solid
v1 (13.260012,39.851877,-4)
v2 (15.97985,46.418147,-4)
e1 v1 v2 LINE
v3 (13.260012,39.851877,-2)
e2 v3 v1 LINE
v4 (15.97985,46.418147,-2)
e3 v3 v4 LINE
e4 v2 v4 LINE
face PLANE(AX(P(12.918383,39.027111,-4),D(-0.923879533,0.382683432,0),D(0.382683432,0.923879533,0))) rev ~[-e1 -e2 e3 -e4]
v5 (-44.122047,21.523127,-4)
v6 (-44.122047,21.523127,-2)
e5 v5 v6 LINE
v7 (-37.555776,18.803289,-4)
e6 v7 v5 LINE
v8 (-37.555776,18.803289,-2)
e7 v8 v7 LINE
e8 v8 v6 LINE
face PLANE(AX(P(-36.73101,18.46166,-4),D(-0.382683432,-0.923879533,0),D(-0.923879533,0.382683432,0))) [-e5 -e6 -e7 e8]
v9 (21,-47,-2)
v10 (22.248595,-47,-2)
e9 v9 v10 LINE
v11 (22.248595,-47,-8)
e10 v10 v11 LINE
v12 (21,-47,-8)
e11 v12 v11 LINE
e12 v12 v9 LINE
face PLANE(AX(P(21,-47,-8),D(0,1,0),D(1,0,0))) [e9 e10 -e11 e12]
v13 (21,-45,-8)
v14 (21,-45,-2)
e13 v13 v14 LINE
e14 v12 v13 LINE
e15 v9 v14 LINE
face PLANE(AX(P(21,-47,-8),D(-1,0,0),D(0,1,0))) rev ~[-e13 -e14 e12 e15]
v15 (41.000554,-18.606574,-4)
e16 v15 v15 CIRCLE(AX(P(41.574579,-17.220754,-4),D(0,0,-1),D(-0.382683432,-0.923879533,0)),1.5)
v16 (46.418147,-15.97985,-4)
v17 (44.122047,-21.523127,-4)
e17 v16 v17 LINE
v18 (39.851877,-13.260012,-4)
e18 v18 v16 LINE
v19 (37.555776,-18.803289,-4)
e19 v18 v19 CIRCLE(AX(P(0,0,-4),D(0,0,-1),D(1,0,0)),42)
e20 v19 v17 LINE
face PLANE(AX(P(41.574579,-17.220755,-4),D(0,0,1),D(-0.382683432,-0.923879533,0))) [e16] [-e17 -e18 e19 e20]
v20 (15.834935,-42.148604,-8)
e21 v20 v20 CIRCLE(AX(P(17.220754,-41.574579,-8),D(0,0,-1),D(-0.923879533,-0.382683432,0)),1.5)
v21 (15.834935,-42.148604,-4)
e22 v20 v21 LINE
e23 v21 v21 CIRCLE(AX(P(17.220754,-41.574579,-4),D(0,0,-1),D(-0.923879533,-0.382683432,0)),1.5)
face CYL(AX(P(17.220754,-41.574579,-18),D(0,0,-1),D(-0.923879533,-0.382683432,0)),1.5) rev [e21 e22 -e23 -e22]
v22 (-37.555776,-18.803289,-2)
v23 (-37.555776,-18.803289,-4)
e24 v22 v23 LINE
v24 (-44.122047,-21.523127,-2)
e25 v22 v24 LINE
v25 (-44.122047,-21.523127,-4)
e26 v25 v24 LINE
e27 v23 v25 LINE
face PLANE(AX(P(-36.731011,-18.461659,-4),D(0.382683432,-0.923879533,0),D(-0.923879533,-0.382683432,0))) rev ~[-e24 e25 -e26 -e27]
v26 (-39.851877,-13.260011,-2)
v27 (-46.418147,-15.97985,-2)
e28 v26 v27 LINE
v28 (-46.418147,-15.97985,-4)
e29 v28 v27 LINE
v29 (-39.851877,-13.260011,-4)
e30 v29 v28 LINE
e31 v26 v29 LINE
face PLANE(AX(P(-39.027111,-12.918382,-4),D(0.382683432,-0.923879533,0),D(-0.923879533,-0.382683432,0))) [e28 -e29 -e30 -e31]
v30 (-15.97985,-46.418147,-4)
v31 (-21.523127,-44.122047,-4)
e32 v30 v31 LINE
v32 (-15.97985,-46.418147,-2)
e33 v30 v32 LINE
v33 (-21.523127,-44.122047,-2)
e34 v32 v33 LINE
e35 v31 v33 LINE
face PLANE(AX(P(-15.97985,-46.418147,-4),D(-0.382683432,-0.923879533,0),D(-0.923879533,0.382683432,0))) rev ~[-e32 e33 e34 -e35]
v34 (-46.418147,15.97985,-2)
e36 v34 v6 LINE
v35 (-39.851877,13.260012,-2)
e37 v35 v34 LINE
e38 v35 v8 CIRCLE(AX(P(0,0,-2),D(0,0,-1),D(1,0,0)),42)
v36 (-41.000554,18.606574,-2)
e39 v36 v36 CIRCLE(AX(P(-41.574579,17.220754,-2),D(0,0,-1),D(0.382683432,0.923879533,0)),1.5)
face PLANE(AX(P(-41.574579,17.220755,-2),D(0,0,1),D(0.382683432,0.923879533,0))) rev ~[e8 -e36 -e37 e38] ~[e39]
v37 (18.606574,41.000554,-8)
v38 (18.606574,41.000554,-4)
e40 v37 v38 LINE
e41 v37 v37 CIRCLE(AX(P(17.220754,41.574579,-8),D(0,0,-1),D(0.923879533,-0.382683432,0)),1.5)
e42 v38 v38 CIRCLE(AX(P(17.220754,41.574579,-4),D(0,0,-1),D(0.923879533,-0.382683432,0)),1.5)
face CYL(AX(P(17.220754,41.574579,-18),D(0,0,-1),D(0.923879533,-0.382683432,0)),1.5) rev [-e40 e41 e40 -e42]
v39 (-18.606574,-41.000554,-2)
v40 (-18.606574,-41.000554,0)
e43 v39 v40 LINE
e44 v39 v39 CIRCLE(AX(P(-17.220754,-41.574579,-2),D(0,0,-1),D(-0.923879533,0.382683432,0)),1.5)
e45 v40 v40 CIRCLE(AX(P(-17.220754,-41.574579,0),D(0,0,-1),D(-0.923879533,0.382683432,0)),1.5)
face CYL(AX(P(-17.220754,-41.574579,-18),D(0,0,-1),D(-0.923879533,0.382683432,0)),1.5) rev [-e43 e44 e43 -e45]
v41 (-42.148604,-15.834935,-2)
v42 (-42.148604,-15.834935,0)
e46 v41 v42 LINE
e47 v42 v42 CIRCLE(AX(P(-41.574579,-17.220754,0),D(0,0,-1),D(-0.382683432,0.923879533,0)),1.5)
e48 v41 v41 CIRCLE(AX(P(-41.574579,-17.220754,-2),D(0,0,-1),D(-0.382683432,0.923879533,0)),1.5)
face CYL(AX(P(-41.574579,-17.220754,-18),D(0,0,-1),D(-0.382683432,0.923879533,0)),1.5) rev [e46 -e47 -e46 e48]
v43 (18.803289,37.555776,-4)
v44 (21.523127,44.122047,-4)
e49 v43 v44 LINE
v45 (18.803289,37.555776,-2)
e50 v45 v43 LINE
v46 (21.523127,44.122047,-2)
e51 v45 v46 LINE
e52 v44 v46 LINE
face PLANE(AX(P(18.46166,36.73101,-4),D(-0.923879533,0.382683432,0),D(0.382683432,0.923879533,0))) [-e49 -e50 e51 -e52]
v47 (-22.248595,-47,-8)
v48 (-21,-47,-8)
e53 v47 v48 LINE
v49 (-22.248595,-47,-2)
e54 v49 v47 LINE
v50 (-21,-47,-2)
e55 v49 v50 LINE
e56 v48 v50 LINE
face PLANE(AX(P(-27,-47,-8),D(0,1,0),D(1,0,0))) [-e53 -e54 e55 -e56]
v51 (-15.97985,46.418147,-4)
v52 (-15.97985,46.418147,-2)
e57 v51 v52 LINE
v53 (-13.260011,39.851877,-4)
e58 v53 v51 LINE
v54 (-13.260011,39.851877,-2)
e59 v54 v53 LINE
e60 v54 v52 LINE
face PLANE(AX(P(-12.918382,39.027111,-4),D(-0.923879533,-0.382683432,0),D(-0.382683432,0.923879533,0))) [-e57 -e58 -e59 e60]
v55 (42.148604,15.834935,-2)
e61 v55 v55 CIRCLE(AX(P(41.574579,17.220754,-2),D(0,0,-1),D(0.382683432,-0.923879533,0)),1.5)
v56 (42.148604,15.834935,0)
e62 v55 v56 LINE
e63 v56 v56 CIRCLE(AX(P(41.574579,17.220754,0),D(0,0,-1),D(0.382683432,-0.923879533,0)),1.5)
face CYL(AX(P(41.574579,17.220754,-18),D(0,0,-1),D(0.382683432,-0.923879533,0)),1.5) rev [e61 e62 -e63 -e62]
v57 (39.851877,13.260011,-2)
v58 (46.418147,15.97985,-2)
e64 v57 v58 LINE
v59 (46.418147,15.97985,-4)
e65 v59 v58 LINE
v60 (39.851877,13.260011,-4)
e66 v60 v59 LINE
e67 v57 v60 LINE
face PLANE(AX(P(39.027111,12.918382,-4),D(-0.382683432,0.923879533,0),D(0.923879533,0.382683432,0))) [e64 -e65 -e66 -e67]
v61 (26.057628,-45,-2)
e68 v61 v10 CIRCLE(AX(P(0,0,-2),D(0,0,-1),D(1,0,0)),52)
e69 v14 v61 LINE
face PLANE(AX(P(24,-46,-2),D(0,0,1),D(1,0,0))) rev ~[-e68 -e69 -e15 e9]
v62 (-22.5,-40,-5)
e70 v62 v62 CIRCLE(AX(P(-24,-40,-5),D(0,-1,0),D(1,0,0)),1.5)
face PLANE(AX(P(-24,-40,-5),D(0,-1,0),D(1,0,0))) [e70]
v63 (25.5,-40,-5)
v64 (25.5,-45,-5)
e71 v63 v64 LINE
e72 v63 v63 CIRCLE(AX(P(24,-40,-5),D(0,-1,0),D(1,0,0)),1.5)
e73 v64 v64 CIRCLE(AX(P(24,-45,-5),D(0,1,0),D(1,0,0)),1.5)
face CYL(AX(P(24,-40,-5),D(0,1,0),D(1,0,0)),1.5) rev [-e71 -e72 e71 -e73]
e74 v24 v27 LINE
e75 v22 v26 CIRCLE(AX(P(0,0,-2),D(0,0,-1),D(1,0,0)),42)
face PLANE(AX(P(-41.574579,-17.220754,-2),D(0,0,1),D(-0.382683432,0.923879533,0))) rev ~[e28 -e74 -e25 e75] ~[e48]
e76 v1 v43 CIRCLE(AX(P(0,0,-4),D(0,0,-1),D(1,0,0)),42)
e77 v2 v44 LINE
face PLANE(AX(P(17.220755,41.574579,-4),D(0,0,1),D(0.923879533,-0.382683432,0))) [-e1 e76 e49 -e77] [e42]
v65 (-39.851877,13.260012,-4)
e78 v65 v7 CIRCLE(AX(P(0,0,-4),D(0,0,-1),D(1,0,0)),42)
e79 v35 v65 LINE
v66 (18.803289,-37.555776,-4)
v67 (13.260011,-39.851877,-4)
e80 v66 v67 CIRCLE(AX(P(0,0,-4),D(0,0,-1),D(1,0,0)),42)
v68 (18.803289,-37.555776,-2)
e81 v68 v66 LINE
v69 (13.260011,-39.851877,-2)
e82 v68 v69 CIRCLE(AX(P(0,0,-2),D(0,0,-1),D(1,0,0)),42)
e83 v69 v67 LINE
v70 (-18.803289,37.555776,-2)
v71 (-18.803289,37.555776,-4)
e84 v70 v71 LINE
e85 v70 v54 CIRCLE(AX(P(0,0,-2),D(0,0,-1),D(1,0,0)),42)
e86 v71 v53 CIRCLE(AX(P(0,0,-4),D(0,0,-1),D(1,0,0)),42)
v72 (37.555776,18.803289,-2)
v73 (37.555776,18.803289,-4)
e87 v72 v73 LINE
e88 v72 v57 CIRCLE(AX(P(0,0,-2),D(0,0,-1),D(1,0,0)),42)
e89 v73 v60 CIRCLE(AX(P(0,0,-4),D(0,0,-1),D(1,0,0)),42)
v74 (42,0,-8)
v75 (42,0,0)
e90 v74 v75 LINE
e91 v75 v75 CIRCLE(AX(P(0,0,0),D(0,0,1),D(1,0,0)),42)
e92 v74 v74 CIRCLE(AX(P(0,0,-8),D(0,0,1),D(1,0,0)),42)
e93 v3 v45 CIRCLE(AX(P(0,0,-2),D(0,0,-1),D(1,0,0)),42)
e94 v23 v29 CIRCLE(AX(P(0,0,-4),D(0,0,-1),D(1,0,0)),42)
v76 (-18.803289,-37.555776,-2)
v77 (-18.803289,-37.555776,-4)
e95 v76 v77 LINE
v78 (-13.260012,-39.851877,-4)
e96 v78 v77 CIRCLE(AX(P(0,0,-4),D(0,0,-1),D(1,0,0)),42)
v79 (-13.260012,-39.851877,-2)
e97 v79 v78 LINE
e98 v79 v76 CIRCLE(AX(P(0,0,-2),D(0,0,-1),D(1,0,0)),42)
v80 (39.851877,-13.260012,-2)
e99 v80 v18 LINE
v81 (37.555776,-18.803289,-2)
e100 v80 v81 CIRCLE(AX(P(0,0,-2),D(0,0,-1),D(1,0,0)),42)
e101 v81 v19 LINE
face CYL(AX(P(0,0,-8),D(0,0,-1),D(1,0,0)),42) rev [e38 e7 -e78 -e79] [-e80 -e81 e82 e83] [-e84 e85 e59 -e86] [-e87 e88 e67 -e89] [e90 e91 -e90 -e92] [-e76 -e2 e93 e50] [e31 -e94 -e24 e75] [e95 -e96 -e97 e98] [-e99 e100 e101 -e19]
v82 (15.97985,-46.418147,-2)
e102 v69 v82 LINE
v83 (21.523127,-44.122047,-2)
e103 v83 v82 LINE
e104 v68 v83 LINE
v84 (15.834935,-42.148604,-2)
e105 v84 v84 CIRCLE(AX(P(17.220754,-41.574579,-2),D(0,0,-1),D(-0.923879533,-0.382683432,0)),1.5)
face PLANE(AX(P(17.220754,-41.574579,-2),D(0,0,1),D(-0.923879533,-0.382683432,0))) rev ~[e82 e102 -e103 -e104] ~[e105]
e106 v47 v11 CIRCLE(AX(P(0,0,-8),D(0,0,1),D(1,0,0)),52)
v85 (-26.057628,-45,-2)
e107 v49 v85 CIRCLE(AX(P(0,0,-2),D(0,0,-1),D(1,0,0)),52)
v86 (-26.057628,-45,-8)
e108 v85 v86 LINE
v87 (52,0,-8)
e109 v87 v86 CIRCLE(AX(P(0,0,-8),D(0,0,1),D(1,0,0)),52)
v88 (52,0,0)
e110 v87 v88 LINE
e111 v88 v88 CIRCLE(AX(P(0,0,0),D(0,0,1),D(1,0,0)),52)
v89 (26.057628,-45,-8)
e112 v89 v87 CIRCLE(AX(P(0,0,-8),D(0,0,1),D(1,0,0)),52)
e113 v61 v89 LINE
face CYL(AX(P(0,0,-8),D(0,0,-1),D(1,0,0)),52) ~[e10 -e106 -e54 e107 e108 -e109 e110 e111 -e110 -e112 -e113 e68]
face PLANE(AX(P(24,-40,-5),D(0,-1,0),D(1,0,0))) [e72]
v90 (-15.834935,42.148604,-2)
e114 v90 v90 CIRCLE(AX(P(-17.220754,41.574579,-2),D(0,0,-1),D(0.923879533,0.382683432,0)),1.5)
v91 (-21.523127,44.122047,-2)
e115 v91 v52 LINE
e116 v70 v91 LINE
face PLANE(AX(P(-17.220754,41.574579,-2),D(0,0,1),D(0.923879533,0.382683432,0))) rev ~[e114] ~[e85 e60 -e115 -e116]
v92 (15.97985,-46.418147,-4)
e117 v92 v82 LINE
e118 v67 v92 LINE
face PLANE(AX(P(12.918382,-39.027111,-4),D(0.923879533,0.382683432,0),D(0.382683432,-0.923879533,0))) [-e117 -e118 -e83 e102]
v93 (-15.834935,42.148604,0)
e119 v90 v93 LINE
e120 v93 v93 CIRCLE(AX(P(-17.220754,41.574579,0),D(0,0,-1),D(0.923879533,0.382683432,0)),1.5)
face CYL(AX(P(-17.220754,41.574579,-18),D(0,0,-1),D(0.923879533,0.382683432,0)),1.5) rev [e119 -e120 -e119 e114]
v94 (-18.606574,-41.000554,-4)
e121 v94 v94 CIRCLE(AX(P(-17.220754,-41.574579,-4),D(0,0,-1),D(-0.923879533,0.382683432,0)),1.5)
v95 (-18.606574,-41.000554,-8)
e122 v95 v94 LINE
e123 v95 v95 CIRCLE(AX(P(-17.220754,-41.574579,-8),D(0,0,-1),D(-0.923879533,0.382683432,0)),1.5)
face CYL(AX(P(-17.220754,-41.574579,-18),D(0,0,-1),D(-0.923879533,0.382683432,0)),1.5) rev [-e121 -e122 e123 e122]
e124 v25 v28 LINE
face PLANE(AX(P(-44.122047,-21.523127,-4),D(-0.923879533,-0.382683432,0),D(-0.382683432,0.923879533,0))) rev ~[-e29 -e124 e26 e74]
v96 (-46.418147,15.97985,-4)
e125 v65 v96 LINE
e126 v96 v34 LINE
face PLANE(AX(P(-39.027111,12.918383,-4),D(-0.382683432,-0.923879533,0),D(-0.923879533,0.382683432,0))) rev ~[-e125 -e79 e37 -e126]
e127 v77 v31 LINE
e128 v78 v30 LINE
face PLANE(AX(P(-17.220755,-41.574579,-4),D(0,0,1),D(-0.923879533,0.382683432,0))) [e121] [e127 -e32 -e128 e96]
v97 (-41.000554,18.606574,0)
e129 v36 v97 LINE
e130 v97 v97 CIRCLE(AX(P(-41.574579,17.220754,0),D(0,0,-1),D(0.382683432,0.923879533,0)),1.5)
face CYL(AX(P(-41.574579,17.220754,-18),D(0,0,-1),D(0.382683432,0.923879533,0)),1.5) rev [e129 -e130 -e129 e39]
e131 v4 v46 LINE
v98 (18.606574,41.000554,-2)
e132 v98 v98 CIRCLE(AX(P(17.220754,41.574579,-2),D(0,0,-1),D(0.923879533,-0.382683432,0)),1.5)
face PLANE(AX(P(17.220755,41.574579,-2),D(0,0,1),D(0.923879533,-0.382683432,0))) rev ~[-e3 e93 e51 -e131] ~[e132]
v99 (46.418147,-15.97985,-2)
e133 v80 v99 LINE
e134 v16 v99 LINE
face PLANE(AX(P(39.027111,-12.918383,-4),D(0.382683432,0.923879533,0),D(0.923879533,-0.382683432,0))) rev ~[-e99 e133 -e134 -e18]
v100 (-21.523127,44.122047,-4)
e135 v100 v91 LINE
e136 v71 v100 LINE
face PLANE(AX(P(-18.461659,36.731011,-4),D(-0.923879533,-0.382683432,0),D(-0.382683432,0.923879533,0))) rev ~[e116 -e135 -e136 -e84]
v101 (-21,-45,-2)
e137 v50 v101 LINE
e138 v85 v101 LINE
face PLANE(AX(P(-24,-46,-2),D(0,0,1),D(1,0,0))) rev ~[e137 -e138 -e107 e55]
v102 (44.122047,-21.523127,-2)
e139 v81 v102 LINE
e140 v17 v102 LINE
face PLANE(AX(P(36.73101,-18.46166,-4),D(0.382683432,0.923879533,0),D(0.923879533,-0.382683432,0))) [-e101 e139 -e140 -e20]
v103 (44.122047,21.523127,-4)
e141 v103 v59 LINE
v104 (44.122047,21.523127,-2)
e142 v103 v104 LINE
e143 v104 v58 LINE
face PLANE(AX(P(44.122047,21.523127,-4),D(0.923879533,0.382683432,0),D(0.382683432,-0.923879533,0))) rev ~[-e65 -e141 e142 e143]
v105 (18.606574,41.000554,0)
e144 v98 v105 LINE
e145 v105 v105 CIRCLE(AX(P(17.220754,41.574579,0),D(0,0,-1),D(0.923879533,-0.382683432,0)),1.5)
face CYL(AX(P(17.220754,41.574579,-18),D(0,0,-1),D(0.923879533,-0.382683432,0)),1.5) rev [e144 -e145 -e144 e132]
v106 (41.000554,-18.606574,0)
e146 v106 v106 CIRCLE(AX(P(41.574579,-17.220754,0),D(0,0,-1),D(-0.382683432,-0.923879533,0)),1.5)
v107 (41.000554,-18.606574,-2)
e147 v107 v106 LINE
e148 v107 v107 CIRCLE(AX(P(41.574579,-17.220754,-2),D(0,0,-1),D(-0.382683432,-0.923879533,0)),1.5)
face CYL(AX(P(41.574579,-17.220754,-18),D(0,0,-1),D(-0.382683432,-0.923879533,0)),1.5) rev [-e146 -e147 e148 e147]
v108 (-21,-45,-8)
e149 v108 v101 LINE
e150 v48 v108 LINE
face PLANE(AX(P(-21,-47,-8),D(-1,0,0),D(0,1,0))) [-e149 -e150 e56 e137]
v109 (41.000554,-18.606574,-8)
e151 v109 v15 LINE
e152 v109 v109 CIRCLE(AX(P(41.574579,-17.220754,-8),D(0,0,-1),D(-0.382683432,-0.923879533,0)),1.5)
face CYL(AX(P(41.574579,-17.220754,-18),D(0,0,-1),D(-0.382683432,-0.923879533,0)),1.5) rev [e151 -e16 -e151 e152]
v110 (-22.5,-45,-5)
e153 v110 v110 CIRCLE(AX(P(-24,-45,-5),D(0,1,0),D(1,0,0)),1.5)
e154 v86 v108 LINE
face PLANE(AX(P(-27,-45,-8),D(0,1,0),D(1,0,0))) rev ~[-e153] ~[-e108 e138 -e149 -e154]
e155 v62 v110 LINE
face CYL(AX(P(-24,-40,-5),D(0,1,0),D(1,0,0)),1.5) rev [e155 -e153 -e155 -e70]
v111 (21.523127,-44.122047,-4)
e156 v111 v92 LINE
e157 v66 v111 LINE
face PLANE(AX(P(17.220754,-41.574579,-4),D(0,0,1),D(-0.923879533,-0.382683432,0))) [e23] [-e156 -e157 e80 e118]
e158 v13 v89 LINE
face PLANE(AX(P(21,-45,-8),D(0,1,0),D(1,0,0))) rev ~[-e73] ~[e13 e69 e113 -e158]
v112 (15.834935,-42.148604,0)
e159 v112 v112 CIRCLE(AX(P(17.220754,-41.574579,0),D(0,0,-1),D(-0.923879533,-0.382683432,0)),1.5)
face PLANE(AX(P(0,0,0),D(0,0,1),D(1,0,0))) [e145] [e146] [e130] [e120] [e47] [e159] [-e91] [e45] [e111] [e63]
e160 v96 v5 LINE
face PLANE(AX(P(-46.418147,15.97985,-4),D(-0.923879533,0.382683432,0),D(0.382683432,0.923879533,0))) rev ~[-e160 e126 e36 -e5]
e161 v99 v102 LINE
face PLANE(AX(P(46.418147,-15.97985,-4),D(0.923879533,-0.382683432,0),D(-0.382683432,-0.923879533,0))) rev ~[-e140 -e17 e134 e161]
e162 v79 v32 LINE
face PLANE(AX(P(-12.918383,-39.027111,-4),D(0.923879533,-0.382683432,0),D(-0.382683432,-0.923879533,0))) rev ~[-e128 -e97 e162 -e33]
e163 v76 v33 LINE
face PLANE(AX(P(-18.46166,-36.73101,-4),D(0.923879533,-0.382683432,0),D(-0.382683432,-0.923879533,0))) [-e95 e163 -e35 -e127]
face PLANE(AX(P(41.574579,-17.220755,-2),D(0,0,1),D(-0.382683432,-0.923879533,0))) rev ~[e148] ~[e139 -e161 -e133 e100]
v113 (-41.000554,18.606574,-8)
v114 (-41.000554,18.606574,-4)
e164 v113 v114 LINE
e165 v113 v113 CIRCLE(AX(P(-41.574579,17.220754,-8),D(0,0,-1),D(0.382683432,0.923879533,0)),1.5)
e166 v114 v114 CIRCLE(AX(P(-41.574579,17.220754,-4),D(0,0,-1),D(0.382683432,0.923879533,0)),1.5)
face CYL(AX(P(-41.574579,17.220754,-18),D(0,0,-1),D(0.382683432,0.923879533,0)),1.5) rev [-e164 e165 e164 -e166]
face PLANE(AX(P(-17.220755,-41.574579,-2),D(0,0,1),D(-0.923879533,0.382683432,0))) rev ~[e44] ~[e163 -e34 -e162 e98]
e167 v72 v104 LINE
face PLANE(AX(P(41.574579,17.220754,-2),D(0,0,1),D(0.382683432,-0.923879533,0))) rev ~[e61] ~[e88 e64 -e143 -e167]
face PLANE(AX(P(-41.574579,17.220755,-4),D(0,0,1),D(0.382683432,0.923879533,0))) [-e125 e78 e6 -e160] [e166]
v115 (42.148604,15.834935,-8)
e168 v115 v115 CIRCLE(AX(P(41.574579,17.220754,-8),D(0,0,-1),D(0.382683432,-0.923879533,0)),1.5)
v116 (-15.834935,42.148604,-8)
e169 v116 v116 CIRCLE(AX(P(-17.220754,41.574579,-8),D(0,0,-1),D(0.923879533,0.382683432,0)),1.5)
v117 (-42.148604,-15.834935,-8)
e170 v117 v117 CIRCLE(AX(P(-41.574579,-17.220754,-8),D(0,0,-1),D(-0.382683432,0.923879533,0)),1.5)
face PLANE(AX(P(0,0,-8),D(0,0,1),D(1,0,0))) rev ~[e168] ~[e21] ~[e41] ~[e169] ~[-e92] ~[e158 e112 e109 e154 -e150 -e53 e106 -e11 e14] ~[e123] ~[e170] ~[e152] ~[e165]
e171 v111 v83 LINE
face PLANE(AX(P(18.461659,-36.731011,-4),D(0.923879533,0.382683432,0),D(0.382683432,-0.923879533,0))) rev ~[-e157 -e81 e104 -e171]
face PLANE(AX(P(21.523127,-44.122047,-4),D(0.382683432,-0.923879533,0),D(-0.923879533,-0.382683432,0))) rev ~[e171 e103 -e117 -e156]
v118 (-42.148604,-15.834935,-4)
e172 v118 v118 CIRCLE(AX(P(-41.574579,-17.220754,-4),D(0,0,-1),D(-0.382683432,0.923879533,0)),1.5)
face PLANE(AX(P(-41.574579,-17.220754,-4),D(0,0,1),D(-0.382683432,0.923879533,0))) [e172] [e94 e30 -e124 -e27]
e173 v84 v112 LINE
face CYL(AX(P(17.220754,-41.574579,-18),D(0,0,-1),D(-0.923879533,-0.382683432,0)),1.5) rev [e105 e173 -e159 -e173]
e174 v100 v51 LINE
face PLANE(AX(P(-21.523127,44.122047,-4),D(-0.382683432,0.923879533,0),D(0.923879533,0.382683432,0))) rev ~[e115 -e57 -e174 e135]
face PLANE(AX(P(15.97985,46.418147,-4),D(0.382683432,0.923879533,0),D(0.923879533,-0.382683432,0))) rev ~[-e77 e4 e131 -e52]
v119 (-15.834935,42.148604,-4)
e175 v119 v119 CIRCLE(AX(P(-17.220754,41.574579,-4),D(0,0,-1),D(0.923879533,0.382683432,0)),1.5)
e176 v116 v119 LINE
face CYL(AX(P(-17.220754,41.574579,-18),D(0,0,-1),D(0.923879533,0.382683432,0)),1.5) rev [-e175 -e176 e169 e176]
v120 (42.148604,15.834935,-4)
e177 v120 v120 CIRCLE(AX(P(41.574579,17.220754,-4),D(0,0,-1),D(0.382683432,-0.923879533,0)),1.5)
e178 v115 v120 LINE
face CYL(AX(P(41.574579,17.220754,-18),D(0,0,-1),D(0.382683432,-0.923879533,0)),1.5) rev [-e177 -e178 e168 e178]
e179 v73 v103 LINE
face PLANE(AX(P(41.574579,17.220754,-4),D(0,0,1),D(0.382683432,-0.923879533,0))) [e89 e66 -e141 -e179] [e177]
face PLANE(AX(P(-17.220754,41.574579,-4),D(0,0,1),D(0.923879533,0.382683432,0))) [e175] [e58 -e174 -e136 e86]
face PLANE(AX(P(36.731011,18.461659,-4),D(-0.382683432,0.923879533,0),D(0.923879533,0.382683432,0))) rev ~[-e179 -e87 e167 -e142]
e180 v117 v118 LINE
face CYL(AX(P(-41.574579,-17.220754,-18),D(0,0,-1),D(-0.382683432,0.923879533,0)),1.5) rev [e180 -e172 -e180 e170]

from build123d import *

# Parameters (mm, degrees)
CYLINDER904_R               = 1.5
CYLINDER904_DEPTH           = 20
CYLINDER904_PLACEMENT_ANGLE = 45
CYLINDER907_R               = 1.5
CYLINDER907_DEPTH           = 20
CYLINDER902_R               = 1.5
CYLINDER902_DEPTH           = 20
CYLINDER902_PLACEMENT_ANGLE = 135
CYLINDER901_R               = 1.5
CYLINDER901_DEPTH           = 20
CYLINDER903_R               = 1.5
CYLINDER903_DEPTH           = 20
CYLINDER903_PLACEMENT_ANGLE = 225
CYLINDER905_R               = 1.5
CYLINDER905_DEPTH           = 20
CYLINDER906_R               = 1.5
CYLINDER906_DEPTH           = 20
CYLINDER906_PLACEMENT_ANGLE = 45
CYLINDER898_R               = 1.5
CYLINDER898_DEPTH           = 20
COMPOUND256_PLACEMENT_ANGLE = 22.5
BOX408_W                    = 6
BOX408_H                    = 8
BOX408_DEPTH                = 2
BOX408_PLACEMENT_ANGLE      = 45
BOX404_W                    = 6
BOX404_H                    = 8
BOX404_DEPTH                = 2
BOX415_W                    = 6
BOX415_H                    = 8
BOX415_DEPTH                = 2
BOX415_PLACEMENT_ANGLE      = 135
BOX407_W                    = 6
BOX407_H                    = 8
BOX407_DEPTH                = 2
BOX412_W                    = 6
BOX412_H                    = 8
BOX412_DEPTH                = 2
BOX412_PLACEMENT_ANGLE      = 225
BOX128_W                    = 6
BOX128_H                    = 8
BOX128_DEPTH                = 2
BOX414_W                    = 6
BOX414_H                    = 8
BOX414_DEPTH                = 2
BOX414_PLACEMENT_ANGLE      = 45
BOX413_W                    = 6
BOX413_H                    = 8
BOX413_DEPTH                = 2
COMPOUND780_PLACEMENT_ANGLE = 22.5
CYLINDER888_R               = 1.5
CYLINDER888_DEPTH           = 20
CYLINDER897_R               = 1.5
CYLINDER897_DEPTH           = 20
CYLINDER896_R               = 1.5
CYLINDER896_DEPTH           = 20
CYLINDER900_R               = 1.5
CYLINDER900_DEPTH           = 20
BOX409_W                    = 6
BOX409_H                    = 2
BOX409_DEPTH                = 6
BOX406_W                    = 6
BOX406_H                    = 2
BOX406_DEPTH                = 6
BOX411_W                    = 6
BOX411_H                    = 2
BOX411_DEPTH                = 6
BOX410_W                    = 6
BOX410_H                    = 2
BOX410_DEPTH                = 6
TUBE087_R                   = 52
TUBE087_R_2                 = 42
TUBE087_DEPTH               = 8


with BuildPart() as v_lec904:
    # Cylinder904 → Cylinder904 (new body)
    with BuildSketch(Plane.XY):
        Circle(CYLINDER904_R)
    extrude(amount=CYLINDER904_DEPTH)


with BuildPart() as v_lec904_1:
    # Cylinder904 placement: moved
    add(v_lec904.part.moved(Location((-31.819805, 31.819805, -18))).rotate(Axis((-31.819805, 31.819805, -18), (0, 0, 1)), CYLINDER904_PLACEMENT_ANGLE))


with BuildPart() as v_lec907:
    # Cylinder907 → Cylinder907 (new body)
    with BuildSketch(Plane(origin=(-45, 0, -18), x_dir=(0, 1, 0), z_dir=(0, 0, 1))):
        Circle(CYLINDER907_R)
    extrude(amount=CYLINDER907_DEPTH)


with BuildPart() as v_lec902:
    # Cylinder902 → Cylinder902 (new body)
    with BuildSketch(Plane.XY):
        Circle(CYLINDER902_R)
    extrude(amount=CYLINDER902_DEPTH)


with BuildPart() as v_lec902_1:
    # Cylinder902 placement: moved
    add(v_lec902.part.moved(Location((-31.819805, -31.819805, -18))).rotate(Axis((-31.819805, -31.819805, -18), (0, 0, 1)), CYLINDER902_PLACEMENT_ANGLE))


with BuildPart() as v_lec901:
    # Cylinder901 → Cylinder901 (new body)
    with BuildSketch(Plane(origin=(0, -45, -18), x_dir=(-1, 0, 0), z_dir=(0, 0, 1))):
        Circle(CYLINDER901_R)
    extrude(amount=CYLINDER901_DEPTH)


with BuildPart() as v_lec903:
    # Cylinder903 → Cylinder903 (new body)
    with BuildSketch(Plane.XY):
        Circle(CYLINDER903_R)
    extrude(amount=CYLINDER903_DEPTH)


with BuildPart() as v_lec903_1:
    # Cylinder903 placement: moved
    add(v_lec903.part.moved(Location((31.819805, -31.819805, -18))).rotate(Axis((31.819805, -31.819805, -18), (0, 0, 1)), CYLINDER903_PLACEMENT_ANGLE))


with BuildPart() as v_lec905:
    # Cylinder905 → Cylinder905 (new body)
    with BuildSketch(Plane(origin=(45, 0, -18), x_dir=(0, -1, 0), z_dir=(0, 0, 1))):
        Circle(CYLINDER905_R)
    extrude(amount=CYLINDER905_DEPTH)


with BuildPart() as v_lec906:
    # Cylinder906 → Cylinder906 (new body)
    with BuildSketch(Plane.XY):
        Circle(CYLINDER906_R)
    extrude(amount=CYLINDER906_DEPTH)


with BuildPart() as v_lec906_1:
    # Cylinder906 placement: moved
    add(v_lec906.part.moved(Location((31.819805, 31.819805, -18))).rotate(Axis((31.819805, 31.819805, -18), (0, 0, -1)), CYLINDER906_PLACEMENT_ANGLE))


with BuildPart() as compound256:
    # Cylinder898 → Cylinder898 (new body)
    with BuildSketch(Plane(origin=(0, 45, -18), x_dir=(1, 0, 0), z_dir=(0, 0, 1))):
        Circle(CYLINDER898_R)
    extrude(amount=CYLINDER898_DEPTH)

    # Compound256: union Válec904, Válec907, Válec902, Válec901, Válec903, Válec905, Válec906
    add(v_lec904_1.part)
    add(v_lec907.part)
    add(v_lec902_1.part)
    add(v_lec901.part)
    add(v_lec903_1.part)
    add(v_lec905.part)
    add(v_lec906_1.part)


with BuildPart() as compound256_1:
    # Compound256 placement: moved
    add(compound256.part.rotate(Axis((0, 0, 0), (0, 0, 1)), COMPOUND256_PLACEMENT_ANGLE))


with BuildPart() as krychle408:
    # Box408 → Box408 (new body)
    with BuildSketch(Plane.XY):
        with Locations((3, 4)):
            Rectangle(BOX408_W, BOX408_H)
    extrude(amount=BOX408_DEPTH)


with BuildPart() as krychle408_1:
    # Box408 placement: moved
    add(krychle408.part.moved(Location((-31.112698, 26.870058, -4))).rotate(Axis((-31.112698, 26.870058, -4), (0, 0, 1)), BOX408_PLACEMENT_ANGLE))


with BuildPart() as krychle404:
    # Box404 → Box404 (new body)
    with BuildSketch(Plane(origin=(-41, -3, -4), x_dir=(0, 1, 0), z_dir=(0, 0, 1))):
        with Locations((3, 4)):
            Rectangle(BOX404_W, BOX404_H)
    extrude(amount=BOX404_DEPTH)


with BuildPart() as krychle415:
    # Box415 → Box415 (new body)
    with BuildSketch(Plane.XY):
        with Locations((3, 4)):
            Rectangle(BOX415_W, BOX415_H)
    extrude(amount=BOX415_DEPTH)


with BuildPart() as krychle415_1:
    # Box415 placement: moved
    add(krychle415.part.moved(Location((-26.870058, -31.112698, -4))).rotate(Axis((-26.870058, -31.112698, -4), (0, 0, 1)), BOX415_PLACEMENT_ANGLE))


with BuildPart() as krychle407:
    # Box407 → Box407 (new body)
    with BuildSketch(Plane(origin=(3, -41, -4), x_dir=(-1, 0, 0), z_dir=(0, 0, 1))):
        with Locations((3, 4)):
            Rectangle(BOX407_W, BOX407_H)
    extrude(amount=BOX407_DEPTH)


with BuildPart() as krychle412:
    # Box412 → Box412 (new body)
    with BuildSketch(Plane.XY):
        with Locations((3, 4)):
            Rectangle(BOX412_W, BOX412_H)
    extrude(amount=BOX412_DEPTH)


with BuildPart() as krychle412_1:
    # Box412 placement: moved
    add(krychle412.part.moved(Location((31.112698, -26.870058, -4))).rotate(Axis((31.112698, -26.870058, -4), (0, 0, 1)), BOX412_PLACEMENT_ANGLE))


with BuildPart() as krychle128:
    # Box128 → Box128 (new body)
    with BuildSketch(Plane(origin=(41, 3, -4), x_dir=(0, -1, 0), z_dir=(0, 0, 1))):
        with Locations((3, 4)):
            Rectangle(BOX128_W, BOX128_H)
    extrude(amount=BOX128_DEPTH)


with BuildPart() as krychle414:
    # Box414 → Box414 (new body)
    with BuildSketch(Plane.XY):
        with Locations((3, 4)):
            Rectangle(BOX414_W, BOX414_H)
    extrude(amount=BOX414_DEPTH)


with BuildPart() as krychle414_1:
    # Box414 placement: moved
    add(krychle414.part.moved(Location((26.870058, 31.112698, -4))).rotate(Axis((26.870058, 31.112698, -4), (0, 0, -1)), BOX414_PLACEMENT_ANGLE))


with BuildPart() as compound780:
    # Box413 → Box413 (new body)
    with BuildSketch(Plane(origin=(-3, 41, -4), x_dir=(1, 0, 0), z_dir=(0, 0, 1))):
        with Locations((3, 4)):
            Rectangle(BOX413_W, BOX413_H)
    extrude(amount=BOX413_DEPTH)

    # Compound780: union Krychle408, Krychle404, Krychle415, Krychle407, Krychle412, Krychle128, Krychle414
    add(krychle408_1.part)
    add(krychle404.part)
    add(krychle415_1.part)
    add(krychle407.part)
    add(krychle412_1.part)
    add(krychle128.part)
    add(krychle414_1.part)


with BuildPart() as compound780_1:
    # Compound780 placement: moved
    add(compound780.part.rotate(Axis((0, 0, 0), (0, 0, 1)), COMPOUND780_PLACEMENT_ANGLE))


with BuildPart() as v_lec888:
    # Cylinder888 → Cylinder888 (new body)
    with BuildSketch(Plane(origin=(24, -40, -5), x_dir=(1, 0, 0), z_dir=(0, -1, 0))):
        Circle(CYLINDER888_R)
    extrude(amount=CYLINDER888_DEPTH)


with BuildPart() as v_lec897:
    # Cylinder897 → Cylinder897 (new body)
    with BuildSketch(Plane(origin=(51, -40, 7), x_dir=(1, 0, 0), z_dir=(0, -1, 0))):
        Circle(CYLINDER897_R)
    extrude(amount=CYLINDER897_DEPTH)


with BuildPart() as v_lec896:
    # Cylinder896 → Cylinder896 (new body)
    with BuildSketch(Plane(origin=(-51, -40, 7), x_dir=(1, 0, 0), z_dir=(0, -1, 0))):
        Circle(CYLINDER896_R)
    extrude(amount=CYLINDER896_DEPTH)


with BuildPart() as compound255:
    # Cylinder900 → Cylinder900 (new body)
    with BuildSketch(Plane(origin=(-24, -40, -5), x_dir=(1, 0, 0), z_dir=(0, -1, 0))):
        Circle(CYLINDER900_R)
    extrude(amount=CYLINDER900_DEPTH)

    # Compound255: union Válec888, Válec897, Válec896
    add(v_lec888.part)
    add(v_lec897.part)
    add(v_lec896.part)


with BuildPart() as krychle409:
    # Box409 → Box409 (new body)
    with BuildSketch(Plane(origin=(21, -47, -8), x_dir=(1, 0, 0), z_dir=(0, 0, 1))):
        with Locations((3, 1)):
            Rectangle(BOX409_W, BOX409_H)
    extrude(amount=BOX409_DEPTH)


with BuildPart() as krychle406:
    # Box406 → Box406 (new body)
    with BuildSketch(Plane(origin=(48, -45, 4), x_dir=(1, 0, 0), z_dir=(0, 0, 1))):
        with Locations((3, 1)):
            Rectangle(BOX406_W, BOX406_H)
    extrude(amount=BOX406_DEPTH)


with BuildPart() as krychle411:
    # Box411 → Box411 (new body)
    with BuildSketch(Plane(origin=(-54, -45, 4), x_dir=(1, 0, 0), z_dir=(0, 0, 1))):
        with Locations((3, 1)):
            Rectangle(BOX411_W, BOX411_H)
    extrude(amount=BOX411_DEPTH)


with BuildPart() as compound257:
    # Box410 → Box410 (new body)
    with BuildSketch(Plane(origin=(-27, -47, -8), x_dir=(1, 0, 0), z_dir=(0, 0, 1))):
        with Locations((3, 1)):
            Rectangle(BOX410_W, BOX410_H)
    extrude(amount=BOX410_DEPTH)

    # Compound257: union Krychle409, Krychle406, Krychle411
    add(krychle409.part)
    add(krychle406.part)
    add(krychle411.part)


with BuildPart() as cut145:
    # Tube087 → Tube087 (new body)
    with BuildSketch(Plane.XY.offset(-8)):
        Circle(TUBE087_R)
        Circle(TUBE087_R_2, mode=Mode.SUBTRACT)
    extrude(amount=TUBE087_DEPTH)

    # Cut407: cut Compound257
    add(compound257.part, mode=Mode.SUBTRACT)

    # Cut144: cut Compound255
    add(compound255.part, mode=Mode.SUBTRACT)

    # Cut404: cut Compound780
    add(compound780_1.part, mode=Mode.SUBTRACT)

    # Cut145: cut Compound256
    add(compound256_1.part, mode=Mode.SUBTRACT)


solid = cut145.part
